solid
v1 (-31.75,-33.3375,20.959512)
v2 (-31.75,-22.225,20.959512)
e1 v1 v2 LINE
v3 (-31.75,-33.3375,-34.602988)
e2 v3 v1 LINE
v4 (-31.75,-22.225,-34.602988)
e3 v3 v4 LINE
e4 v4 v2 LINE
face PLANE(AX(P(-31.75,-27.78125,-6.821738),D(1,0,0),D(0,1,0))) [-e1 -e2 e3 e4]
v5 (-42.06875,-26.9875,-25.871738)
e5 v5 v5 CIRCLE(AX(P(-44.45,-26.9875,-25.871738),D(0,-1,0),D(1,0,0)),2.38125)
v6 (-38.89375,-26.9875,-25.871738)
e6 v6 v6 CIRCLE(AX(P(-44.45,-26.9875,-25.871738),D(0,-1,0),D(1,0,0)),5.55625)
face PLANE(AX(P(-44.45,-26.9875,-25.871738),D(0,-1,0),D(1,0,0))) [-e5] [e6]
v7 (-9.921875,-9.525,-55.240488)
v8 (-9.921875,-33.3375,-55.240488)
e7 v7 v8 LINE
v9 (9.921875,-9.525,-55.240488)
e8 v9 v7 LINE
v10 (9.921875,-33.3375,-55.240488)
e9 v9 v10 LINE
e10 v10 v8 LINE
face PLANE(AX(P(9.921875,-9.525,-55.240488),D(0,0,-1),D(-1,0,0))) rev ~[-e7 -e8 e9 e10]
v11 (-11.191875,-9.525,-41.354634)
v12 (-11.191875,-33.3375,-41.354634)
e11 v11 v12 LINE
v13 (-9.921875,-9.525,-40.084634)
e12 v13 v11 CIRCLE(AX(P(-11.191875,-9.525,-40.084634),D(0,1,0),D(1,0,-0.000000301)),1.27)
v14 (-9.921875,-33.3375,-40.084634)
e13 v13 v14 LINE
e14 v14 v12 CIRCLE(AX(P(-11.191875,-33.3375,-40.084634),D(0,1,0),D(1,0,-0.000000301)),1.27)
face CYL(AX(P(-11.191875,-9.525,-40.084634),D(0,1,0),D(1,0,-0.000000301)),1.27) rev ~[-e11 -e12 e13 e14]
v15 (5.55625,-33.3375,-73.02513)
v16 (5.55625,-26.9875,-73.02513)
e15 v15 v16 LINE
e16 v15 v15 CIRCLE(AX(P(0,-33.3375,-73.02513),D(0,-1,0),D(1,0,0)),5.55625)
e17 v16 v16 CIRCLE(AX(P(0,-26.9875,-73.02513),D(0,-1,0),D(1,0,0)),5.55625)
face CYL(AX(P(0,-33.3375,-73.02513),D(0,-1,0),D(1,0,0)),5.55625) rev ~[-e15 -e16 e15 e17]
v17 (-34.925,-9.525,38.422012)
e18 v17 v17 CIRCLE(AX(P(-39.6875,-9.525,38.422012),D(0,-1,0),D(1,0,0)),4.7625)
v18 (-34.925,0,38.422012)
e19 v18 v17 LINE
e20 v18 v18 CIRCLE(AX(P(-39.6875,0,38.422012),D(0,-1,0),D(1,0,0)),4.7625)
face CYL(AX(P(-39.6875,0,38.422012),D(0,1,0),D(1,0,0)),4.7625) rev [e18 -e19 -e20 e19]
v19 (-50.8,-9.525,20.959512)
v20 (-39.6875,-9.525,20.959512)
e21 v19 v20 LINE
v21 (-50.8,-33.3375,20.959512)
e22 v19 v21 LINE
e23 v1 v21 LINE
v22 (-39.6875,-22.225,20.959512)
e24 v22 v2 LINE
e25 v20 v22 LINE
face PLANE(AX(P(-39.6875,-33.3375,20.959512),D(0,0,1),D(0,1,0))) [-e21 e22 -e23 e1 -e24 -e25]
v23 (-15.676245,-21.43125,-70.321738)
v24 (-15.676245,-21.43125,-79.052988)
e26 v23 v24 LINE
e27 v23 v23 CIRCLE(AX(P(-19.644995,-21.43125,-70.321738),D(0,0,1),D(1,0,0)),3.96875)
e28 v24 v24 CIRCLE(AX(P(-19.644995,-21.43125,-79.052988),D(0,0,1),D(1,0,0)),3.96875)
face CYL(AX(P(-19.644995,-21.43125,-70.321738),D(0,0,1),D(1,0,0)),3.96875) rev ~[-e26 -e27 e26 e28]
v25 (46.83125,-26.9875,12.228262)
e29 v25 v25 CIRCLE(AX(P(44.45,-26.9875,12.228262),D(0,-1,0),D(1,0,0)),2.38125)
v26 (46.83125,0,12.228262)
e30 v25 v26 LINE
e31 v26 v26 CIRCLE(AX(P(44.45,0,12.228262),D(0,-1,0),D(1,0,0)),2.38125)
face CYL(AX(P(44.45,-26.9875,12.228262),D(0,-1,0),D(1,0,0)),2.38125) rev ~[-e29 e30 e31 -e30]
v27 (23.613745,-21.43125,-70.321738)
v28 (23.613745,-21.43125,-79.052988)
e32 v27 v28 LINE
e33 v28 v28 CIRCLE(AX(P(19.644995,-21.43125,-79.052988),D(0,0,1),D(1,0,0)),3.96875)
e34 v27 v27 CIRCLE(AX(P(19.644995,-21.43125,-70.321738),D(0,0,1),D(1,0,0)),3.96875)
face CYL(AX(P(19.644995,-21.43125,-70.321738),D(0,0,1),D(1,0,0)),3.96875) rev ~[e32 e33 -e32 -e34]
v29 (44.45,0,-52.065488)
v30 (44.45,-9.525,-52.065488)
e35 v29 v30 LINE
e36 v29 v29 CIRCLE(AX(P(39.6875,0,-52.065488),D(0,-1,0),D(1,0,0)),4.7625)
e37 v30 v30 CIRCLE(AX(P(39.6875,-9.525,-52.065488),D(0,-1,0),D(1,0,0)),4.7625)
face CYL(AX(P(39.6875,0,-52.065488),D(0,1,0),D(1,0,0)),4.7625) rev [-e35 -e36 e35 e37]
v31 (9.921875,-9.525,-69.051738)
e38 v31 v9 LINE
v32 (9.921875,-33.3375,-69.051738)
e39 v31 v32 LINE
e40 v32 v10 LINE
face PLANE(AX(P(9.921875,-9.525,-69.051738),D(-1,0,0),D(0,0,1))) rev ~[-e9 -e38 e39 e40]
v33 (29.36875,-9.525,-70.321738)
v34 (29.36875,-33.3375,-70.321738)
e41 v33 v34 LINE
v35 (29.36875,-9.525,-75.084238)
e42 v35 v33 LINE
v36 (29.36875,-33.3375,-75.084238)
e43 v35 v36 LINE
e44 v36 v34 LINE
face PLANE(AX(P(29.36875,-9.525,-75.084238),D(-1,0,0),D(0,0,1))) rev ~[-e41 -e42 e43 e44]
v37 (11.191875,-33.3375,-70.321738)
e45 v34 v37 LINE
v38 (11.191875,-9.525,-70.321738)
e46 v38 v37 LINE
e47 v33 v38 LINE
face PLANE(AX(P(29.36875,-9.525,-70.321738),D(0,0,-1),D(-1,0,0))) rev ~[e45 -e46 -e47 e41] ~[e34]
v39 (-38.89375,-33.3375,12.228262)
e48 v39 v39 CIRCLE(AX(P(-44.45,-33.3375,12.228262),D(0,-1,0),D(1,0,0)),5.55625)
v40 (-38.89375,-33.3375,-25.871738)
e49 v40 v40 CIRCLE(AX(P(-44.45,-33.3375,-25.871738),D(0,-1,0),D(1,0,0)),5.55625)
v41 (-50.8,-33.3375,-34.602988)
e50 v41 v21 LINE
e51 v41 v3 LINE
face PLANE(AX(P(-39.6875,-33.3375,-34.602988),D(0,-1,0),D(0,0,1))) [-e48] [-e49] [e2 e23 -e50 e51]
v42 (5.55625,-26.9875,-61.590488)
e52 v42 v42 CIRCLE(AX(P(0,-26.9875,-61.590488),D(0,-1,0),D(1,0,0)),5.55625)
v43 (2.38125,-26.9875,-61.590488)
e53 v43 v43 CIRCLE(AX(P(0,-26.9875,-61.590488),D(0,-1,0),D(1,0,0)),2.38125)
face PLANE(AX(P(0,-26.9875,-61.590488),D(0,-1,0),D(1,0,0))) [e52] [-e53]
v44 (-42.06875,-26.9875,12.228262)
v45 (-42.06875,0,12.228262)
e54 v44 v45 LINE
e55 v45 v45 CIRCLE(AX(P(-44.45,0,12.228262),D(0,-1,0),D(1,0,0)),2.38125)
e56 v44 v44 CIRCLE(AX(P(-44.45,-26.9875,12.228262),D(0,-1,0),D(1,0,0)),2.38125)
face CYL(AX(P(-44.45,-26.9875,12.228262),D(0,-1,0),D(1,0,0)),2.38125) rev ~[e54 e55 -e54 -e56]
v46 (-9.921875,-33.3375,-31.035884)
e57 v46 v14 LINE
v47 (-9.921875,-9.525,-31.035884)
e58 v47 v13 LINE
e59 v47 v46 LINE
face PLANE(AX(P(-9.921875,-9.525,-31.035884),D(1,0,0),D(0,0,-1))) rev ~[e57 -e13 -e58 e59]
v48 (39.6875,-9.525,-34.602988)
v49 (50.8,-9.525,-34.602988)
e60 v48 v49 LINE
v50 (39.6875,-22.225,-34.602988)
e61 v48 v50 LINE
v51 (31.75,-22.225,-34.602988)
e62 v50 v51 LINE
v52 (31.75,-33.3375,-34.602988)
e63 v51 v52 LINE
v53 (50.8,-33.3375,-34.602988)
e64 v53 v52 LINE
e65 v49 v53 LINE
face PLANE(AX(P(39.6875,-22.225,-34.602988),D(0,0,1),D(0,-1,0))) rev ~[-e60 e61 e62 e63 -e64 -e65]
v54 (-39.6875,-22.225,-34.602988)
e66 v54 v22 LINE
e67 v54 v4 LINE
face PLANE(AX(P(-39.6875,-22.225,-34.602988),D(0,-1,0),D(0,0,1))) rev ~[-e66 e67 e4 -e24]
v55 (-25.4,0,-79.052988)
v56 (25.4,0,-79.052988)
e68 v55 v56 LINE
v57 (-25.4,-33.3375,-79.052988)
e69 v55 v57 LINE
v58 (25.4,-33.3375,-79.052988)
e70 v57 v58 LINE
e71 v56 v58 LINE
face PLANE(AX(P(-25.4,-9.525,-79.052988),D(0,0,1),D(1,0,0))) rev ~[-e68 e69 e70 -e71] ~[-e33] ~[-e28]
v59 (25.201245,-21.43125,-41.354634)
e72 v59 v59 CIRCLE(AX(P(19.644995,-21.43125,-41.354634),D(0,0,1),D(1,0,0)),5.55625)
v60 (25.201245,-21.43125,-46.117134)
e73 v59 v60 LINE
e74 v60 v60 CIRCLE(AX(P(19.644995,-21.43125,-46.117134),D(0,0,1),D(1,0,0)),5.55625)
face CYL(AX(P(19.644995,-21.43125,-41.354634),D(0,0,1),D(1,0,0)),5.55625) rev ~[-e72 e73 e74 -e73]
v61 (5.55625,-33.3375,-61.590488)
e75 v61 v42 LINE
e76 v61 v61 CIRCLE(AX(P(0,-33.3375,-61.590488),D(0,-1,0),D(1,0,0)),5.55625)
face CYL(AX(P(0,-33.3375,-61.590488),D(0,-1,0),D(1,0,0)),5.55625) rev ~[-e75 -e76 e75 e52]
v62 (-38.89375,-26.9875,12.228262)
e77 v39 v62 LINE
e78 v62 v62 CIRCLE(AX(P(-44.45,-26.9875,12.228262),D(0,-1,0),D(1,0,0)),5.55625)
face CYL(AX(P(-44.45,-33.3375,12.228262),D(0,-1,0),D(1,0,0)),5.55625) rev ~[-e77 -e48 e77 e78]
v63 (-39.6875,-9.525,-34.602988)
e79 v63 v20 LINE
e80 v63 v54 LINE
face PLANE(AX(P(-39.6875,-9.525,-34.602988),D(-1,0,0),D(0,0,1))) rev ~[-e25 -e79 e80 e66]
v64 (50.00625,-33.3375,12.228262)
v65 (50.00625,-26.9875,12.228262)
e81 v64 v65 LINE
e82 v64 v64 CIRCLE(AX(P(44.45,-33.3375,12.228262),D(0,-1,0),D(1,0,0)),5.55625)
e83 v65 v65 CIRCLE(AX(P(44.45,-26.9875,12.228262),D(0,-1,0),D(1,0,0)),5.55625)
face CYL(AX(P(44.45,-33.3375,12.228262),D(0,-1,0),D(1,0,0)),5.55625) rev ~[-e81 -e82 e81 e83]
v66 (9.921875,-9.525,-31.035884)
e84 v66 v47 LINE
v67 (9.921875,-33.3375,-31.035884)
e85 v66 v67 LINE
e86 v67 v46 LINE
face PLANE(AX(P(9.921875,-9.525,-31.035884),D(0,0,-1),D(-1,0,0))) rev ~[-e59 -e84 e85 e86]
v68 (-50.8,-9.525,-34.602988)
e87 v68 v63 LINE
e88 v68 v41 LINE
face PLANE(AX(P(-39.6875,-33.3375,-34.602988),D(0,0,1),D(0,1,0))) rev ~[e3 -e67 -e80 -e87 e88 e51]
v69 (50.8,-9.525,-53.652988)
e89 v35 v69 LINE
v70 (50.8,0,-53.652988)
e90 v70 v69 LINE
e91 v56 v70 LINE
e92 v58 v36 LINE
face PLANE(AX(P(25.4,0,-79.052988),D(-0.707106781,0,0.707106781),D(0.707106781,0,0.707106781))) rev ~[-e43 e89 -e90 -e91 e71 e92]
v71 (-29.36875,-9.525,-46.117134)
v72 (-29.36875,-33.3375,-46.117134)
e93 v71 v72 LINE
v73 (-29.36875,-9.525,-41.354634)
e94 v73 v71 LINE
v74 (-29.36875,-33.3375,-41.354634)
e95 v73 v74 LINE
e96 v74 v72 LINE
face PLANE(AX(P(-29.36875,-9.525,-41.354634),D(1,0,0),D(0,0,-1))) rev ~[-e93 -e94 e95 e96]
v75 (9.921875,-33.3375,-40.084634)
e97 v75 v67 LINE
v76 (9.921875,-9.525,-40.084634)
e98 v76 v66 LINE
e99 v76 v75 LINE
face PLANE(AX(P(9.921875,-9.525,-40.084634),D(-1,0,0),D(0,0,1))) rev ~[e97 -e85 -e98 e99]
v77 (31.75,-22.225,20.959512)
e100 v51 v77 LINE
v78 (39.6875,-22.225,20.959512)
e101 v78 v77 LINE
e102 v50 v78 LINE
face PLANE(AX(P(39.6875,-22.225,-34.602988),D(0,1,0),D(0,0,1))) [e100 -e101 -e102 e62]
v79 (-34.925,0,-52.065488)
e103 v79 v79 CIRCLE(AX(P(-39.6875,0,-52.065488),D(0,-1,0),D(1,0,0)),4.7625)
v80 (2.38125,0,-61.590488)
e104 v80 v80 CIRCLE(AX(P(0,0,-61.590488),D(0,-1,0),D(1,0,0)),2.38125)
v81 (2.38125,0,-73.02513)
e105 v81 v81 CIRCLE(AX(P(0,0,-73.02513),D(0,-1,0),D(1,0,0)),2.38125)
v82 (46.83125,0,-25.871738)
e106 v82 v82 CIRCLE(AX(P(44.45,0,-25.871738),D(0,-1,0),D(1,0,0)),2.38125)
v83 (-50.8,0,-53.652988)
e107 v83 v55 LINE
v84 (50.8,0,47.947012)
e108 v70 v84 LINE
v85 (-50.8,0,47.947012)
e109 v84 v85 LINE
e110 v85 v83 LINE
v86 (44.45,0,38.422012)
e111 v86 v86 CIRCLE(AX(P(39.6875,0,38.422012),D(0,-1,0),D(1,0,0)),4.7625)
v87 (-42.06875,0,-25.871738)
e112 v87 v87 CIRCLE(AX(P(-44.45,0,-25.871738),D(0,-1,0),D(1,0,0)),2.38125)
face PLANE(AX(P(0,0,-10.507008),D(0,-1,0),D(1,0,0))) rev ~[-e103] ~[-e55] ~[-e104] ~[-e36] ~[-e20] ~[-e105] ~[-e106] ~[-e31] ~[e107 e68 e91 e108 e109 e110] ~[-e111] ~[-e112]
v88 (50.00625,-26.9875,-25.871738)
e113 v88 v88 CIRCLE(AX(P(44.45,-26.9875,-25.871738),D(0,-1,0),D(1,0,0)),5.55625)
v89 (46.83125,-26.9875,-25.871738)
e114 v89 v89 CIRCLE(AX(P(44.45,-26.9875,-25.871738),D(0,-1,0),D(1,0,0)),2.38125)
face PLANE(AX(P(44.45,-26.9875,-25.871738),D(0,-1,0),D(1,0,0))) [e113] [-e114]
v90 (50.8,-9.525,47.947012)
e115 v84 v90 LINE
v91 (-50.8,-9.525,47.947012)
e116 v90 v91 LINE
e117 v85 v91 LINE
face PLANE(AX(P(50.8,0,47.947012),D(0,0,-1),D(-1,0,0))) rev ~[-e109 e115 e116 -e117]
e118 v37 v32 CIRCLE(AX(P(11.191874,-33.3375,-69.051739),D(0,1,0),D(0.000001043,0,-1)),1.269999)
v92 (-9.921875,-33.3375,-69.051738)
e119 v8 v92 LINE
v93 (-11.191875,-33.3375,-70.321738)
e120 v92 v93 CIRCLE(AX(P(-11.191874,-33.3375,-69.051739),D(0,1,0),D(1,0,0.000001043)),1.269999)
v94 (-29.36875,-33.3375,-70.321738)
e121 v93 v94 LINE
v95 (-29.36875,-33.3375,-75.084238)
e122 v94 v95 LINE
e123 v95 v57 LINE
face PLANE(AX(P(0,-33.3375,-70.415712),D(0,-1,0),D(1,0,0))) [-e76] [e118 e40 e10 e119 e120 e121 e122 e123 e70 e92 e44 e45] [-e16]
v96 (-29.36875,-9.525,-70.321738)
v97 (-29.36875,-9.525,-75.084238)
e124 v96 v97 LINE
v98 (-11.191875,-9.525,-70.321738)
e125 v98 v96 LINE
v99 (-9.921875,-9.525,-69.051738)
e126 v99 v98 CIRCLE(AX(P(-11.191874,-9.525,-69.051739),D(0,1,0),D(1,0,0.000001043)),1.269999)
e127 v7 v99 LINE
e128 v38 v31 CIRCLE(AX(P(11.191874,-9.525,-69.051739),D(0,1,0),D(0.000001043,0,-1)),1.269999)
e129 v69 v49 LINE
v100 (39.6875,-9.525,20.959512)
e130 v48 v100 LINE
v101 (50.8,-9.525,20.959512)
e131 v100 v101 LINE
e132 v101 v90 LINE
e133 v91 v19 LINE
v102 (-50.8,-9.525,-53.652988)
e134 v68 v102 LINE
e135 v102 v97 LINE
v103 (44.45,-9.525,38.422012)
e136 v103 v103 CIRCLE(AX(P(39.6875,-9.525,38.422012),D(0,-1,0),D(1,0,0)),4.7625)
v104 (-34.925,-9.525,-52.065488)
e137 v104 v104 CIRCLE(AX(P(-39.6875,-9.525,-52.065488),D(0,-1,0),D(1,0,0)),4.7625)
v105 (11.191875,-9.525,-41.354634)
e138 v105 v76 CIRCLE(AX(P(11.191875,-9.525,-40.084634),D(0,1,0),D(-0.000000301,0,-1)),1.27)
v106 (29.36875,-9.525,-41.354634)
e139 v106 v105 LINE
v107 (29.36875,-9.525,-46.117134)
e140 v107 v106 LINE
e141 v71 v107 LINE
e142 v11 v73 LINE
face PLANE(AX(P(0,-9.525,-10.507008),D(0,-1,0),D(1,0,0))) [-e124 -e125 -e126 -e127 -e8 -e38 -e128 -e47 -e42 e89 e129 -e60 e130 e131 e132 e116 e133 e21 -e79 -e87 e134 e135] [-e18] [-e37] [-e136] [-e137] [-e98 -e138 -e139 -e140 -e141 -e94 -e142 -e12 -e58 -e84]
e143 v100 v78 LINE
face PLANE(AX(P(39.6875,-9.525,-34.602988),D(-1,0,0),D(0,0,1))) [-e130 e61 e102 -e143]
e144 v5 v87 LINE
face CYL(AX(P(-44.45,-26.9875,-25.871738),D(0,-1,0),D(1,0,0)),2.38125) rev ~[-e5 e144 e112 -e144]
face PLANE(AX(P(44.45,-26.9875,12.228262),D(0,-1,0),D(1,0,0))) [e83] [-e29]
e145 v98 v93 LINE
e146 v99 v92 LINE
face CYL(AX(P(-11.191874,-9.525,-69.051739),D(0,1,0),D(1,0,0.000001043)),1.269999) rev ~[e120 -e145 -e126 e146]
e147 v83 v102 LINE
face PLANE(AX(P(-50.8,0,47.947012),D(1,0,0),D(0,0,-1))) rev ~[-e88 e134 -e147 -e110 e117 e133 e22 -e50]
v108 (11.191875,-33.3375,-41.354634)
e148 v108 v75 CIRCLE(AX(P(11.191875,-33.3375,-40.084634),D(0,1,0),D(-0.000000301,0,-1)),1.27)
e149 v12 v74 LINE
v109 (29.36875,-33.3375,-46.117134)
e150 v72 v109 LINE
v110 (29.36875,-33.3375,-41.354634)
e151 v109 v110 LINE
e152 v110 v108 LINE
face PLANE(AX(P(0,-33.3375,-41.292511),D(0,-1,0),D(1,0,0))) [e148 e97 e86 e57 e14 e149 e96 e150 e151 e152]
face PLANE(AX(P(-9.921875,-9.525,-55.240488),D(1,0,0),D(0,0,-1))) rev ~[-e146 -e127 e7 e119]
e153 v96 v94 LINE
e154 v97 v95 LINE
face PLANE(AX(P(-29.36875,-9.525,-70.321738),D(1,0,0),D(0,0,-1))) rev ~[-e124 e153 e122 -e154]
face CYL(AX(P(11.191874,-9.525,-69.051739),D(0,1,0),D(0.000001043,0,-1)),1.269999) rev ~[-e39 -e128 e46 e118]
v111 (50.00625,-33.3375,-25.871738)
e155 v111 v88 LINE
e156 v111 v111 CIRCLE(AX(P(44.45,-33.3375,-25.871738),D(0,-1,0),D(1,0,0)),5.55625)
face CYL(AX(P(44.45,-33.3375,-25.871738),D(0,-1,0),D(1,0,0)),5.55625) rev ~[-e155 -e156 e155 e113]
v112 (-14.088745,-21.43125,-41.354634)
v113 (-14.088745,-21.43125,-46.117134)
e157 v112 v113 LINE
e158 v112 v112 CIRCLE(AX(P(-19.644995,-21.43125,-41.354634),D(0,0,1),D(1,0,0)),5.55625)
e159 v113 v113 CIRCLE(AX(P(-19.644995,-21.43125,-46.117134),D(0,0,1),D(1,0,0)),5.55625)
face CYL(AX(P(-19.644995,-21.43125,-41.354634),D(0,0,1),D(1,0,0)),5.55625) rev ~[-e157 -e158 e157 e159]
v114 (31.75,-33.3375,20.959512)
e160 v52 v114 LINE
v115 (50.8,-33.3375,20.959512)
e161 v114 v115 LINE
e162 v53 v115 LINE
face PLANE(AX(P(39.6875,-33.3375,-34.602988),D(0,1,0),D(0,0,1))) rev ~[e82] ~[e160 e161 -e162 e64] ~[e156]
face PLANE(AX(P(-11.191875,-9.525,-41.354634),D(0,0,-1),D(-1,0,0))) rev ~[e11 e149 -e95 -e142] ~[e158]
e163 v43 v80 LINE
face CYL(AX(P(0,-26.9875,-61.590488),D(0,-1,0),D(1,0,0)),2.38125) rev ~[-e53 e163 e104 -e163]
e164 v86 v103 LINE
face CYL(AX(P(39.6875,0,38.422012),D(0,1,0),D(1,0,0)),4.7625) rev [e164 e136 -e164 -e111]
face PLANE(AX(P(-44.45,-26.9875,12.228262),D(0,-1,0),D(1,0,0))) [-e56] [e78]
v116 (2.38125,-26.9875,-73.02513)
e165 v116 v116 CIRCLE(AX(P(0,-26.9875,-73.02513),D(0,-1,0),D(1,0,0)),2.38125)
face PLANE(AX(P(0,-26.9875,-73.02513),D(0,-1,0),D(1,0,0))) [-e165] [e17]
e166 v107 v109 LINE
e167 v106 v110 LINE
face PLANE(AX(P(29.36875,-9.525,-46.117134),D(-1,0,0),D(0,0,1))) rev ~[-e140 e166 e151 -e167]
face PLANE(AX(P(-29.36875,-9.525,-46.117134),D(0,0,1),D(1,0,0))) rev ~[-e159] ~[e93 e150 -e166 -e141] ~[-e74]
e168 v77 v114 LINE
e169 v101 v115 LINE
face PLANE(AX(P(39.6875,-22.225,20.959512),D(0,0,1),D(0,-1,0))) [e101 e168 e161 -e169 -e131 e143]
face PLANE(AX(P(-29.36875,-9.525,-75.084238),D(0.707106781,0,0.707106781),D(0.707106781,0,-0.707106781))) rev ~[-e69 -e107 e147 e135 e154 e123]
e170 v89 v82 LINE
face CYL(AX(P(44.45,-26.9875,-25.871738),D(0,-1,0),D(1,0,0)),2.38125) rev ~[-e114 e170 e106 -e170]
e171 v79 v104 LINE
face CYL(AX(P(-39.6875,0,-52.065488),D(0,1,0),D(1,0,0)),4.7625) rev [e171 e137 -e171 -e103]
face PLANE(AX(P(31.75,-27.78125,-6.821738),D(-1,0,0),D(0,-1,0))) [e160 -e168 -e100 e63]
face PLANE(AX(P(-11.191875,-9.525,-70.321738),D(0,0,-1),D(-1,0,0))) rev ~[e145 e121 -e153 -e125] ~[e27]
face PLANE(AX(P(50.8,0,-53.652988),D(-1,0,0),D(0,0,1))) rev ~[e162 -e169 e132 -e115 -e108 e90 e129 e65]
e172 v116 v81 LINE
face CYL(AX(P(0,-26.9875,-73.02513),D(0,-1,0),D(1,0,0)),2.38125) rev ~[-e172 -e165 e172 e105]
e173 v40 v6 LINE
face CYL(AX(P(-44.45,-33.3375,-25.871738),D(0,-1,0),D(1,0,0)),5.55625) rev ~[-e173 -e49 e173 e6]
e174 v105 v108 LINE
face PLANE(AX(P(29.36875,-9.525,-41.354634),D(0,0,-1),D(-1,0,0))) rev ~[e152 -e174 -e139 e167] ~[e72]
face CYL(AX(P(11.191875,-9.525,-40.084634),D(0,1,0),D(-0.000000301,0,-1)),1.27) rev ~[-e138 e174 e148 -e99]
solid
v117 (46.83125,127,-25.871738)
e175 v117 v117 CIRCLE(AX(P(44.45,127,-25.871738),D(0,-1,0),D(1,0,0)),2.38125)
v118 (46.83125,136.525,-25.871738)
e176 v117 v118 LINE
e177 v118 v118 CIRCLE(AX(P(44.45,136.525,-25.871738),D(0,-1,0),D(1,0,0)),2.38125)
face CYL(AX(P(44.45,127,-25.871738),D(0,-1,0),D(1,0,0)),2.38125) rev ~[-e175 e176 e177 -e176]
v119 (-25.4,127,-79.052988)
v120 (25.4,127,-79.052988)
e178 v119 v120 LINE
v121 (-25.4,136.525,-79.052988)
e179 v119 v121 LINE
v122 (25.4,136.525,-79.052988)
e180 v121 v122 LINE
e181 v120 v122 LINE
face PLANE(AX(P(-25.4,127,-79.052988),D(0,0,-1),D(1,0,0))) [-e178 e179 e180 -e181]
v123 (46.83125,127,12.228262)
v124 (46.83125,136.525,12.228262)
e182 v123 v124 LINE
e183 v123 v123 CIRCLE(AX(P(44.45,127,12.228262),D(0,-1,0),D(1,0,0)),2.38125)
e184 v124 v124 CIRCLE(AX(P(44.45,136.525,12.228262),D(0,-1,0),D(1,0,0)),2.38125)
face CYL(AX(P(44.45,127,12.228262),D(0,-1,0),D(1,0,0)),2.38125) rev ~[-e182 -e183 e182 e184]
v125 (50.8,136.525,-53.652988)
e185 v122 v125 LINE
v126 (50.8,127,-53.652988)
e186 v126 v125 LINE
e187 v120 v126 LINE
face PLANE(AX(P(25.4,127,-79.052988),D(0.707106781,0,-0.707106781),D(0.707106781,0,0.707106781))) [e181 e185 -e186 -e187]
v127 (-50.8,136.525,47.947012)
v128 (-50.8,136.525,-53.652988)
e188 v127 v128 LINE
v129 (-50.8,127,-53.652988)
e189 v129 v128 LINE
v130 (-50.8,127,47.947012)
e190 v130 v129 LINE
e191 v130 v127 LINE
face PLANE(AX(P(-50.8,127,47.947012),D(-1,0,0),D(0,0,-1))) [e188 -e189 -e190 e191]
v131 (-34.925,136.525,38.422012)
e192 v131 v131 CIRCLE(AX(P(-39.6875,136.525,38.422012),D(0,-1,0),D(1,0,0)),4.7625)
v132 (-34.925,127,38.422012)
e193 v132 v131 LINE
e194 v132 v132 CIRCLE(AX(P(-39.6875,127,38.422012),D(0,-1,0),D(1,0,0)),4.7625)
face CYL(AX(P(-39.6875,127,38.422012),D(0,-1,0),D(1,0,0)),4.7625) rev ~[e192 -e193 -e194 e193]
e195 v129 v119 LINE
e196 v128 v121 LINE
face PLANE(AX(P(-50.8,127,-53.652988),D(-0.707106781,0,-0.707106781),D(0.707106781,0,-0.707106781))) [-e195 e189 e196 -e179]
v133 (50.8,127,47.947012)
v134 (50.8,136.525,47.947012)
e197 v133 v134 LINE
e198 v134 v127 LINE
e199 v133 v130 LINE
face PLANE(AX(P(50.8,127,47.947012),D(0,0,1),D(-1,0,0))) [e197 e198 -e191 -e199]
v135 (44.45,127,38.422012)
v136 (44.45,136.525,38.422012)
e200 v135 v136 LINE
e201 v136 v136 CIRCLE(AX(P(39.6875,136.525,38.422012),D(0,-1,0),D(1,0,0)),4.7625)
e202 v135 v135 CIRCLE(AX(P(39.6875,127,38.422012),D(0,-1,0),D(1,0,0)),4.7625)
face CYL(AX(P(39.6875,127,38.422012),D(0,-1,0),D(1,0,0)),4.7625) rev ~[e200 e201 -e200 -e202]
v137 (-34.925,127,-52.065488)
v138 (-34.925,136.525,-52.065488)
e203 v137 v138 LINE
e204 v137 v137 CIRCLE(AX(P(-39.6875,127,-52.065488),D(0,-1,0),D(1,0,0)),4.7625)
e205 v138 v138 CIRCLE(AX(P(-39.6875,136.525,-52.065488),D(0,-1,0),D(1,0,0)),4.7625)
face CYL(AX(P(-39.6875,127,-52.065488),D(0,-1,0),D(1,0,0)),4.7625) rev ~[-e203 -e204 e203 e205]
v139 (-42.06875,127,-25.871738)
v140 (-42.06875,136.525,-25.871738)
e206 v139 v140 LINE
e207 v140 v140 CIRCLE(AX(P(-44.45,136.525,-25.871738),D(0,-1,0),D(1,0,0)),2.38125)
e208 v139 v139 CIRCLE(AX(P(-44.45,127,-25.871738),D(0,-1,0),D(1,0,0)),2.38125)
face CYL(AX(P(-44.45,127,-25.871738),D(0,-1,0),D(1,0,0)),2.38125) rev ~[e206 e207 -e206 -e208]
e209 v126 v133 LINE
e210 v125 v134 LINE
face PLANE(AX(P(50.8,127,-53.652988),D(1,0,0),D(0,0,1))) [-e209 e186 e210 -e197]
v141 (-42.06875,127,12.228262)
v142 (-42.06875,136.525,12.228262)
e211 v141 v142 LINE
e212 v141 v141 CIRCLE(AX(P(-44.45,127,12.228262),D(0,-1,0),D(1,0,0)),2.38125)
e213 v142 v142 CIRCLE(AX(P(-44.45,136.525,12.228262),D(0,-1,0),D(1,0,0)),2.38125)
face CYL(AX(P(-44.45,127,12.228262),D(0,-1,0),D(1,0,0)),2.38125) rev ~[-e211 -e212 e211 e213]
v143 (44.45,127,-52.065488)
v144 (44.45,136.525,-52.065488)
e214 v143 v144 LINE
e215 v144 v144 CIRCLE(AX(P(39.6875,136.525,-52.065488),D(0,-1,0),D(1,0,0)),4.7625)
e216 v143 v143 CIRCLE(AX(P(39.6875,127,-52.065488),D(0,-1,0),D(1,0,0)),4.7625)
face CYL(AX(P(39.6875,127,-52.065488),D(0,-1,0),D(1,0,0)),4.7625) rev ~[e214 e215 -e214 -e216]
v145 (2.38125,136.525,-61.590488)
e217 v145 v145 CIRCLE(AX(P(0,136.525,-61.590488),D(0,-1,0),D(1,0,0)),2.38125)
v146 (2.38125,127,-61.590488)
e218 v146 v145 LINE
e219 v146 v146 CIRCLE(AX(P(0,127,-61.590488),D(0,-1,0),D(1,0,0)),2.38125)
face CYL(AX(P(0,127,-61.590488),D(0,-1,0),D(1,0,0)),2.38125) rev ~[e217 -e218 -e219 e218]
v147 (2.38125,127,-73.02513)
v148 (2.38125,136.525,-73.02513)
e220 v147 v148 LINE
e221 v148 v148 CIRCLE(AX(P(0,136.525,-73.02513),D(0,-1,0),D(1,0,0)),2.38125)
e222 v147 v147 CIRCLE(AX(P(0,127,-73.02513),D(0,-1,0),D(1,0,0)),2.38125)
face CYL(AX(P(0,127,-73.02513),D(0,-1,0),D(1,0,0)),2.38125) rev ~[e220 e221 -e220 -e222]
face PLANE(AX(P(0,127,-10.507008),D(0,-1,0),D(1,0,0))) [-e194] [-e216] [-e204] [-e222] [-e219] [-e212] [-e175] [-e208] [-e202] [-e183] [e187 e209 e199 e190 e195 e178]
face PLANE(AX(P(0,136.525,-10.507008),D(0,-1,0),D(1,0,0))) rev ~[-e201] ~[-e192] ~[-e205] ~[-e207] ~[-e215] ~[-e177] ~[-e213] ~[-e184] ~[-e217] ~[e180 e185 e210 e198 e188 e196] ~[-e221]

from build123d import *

# Parameters (mm, degrees)
F0_R      = 4.7625
F1_DEPTH  = 9.525
F2_W      = 11.1125
F2_H      = 55.5625
F3_DEPTH  = 23.8125
F4_W      = 11.1125
F4_H      = 55.5625
F5_DEPTH  = 7.9375
F6_W      = 11.1125
F6_H      = 55.5625
F7_DEPTH  = 7.9375
F8_R      = 5.55625
F9_DEPTH  = 6.35
F10_R     = 2.38125
F11_DEPTH = 50.8
F12_R     = 5.55625
F13_DEPTH = 6.35
F14_R     = 3.96875
F15_DEPTH = 25.4
F17_R     = 4.7625
F17_R_2   = 2.38125
F18_DEPTH = 9.525


with BuildPart() as f1:
    # F0 (on Front) → F1 (new body)
    with BuildSketch(Plane.XZ):
        Polygon((50.8, 47.947012), (-50.8, 47.947012), (-50.8, -53.652988), (-25.4, -79.052988), (25.4, -79.052988), (50.8, -53.652988), align=None)
        with Locations((-39.6875, -52.065488)):
            Circle(F0_R, mode=Mode.SUBTRACT)
        with Locations((39.6875, -52.065488)):
            Circle(F0_R, mode=Mode.SUBTRACT)
        with Locations((-39.6875, 38.422012)):
            Circle(F0_R, mode=Mode.SUBTRACT)
        with Locations((39.6875, 38.422012)):
            Circle(F0_R, mode=Mode.SUBTRACT)
    extrude(amount=F1_DEPTH)

    # F2 (on face) → F3 (join)
    with BuildSketch(Plane.XZ.offset(9.525)):
        with Locations((-45.24375, -6.821738)):
            Rectangle(F2_W, F2_H)
        with Locations((45.24375, -6.821738)):
            Rectangle(F2_W, F2_H)
        with BuildLine():
            Line((-11.191875, -41.354634), (-29.36875, -41.354634))
            Line((-29.36875, -41.354634), (-29.36875, -46.117134))
            Line((-29.36875, -46.117134), (29.36875, -46.117134))
            Line((29.36875, -46.117134), (29.36875, -41.354634))
            Line((29.36875, -41.354634), (11.191875, -41.354634))
            ThreePointArc((11.191875, -41.354634), (10.293849, -40.982659), (9.921875, -40.084634))
            Line((9.921875, -40.084634), (9.921875, -31.035884))
            Line((9.921875, -31.035884), (-9.921875, -31.035884))
            Line((-9.921875, -31.035884), (-9.921875, -40.084634))
            ThreePointArc((-9.921875, -40.084634), (-10.293849, -40.982659), (-11.191875, -41.354634))
        make_face()
        with BuildLine():
            Line((-29.36875, -70.321738), (-29.36875, -75.084238))
            Line((-29.36875, -75.084238), (-25.4, -79.052988))
            Line((-25.4, -79.052988), (25.4, -79.052988))
            Line((25.4, -79.052988), (29.36875, -75.084238))
            Line((29.36875, -75.084238), (29.36875, -70.321738))
            Line((29.36875, -70.321738), (11.191875, -70.321738))
            ThreePointArc((11.191875, -70.321738), (10.293849, -69.949764), (9.921875, -69.051738))
            Line((9.921875, -69.051738), (9.921875, -55.240488))
            Line((9.921875, -55.240488), (-9.921875, -55.240488))
            Line((-9.921875, -55.240488), (-9.921875, -69.051738))
            ThreePointArc((-9.921875, -69.051738), (-10.293849, -69.949764), (-11.191875, -70.321738))
            Line((-11.191875, -70.321738), (-29.36875, -70.321738))
        make_face()
    extrude(amount=F3_DEPTH)

    # F4 (on face) → F5 (join)
    with BuildSketch(Plane.YZ.offset(-39.6875)):
        with Locations((-27.78125, -6.821738)):
            Rectangle(F4_W, F4_H)
    extrude(amount=F5_DEPTH)

    # F6 (on face) → F7 (join)
    with BuildSketch(Plane(origin=(39.6875, 0, 0), x_dir=(0, -1, 0), z_dir=(-1, 0, 0))):
        with Locations((27.78125, -6.821738)):
            Rectangle(F6_W, F6_H)
    extrude(amount=F7_DEPTH)

    # F8 (on face) → F9 (cut)
    with BuildSketch(Plane.XZ.offset(33.3375)):
        with Locations((-44.45, 12.228262)):
            Circle(F8_R)
        with Locations((-44.45, -25.871738)):
            Circle(F8_R)
        with Locations((44.45, 12.228262)):
            Circle(F8_R)
        with Locations((44.45, -25.871738)):
            Circle(F8_R)
        with Locations((0, -73.02513)):
            Circle(F8_R)
        with Locations((0, -61.590488)):
            Circle(F8_R)
    extrude(amount=-F9_DEPTH, mode=Mode.SUBTRACT)

    # F10 (on face) → F11 (cut)
    with BuildSketch(Plane.XZ.offset(26.9875)):
        with Locations((-44.45, -25.871738)):
            Circle(F10_R)
        with Locations((-44.45, 12.228262)):
            Circle(F10_R)
        with Locations((44.45, -25.871738)):
            Circle(F10_R)
        with Locations((44.45, 12.228262)):
            Circle(F10_R)
        with Locations((0, -61.590488)):
            Circle(F10_R)
        with Locations((0, -73.02513)):
            Circle(F10_R)
    extrude(amount=-F11_DEPTH, mode=Mode.SUBTRACT)

    # F12 (on face) → F13 (cut)
    with BuildSketch(Plane.XY.offset(-41.354634)):
        with Locations((-19.644995, -21.43125)):
            Circle(F12_R)
        with Locations((19.644995, -21.43125)):
            Circle(F12_R)
    extrude(amount=-F13_DEPTH, mode=Mode.SUBTRACT)

    # F14 (on face) → F15 (cut)
    with BuildSketch(Plane.XY.offset(-70.321738)):
        with Locations((-19.644995, -21.43125)):
            Circle(F14_R)
        with Locations((19.644995, -21.43125)):
            Circle(F14_R)
    extrude(amount=-F15_DEPTH, mode=Mode.SUBTRACT)


with BuildPart() as f18:
    # F17 (on offset) → F18 (new body)
    with BuildSketch(Plane.XZ.offset(-127)):
        Polygon((50.8, 47.947012), (-50.8, 47.947012), (-50.8, -53.652988), (-25.4, -79.052988), (25.4, -79.052988), (50.8, -53.652988), align=None)
        with Locations((-39.6875, -52.065488)):
            Circle(F17_R, mode=Mode.SUBTRACT)
        with Locations((0, -73.02513)):
            Circle(F17_R_2, mode=Mode.SUBTRACT)
        with Locations((0, -61.590488)):
            Circle(F17_R_2, mode=Mode.SUBTRACT)
        with Locations((-44.45, -25.871738)):
            Circle(F17_R_2, mode=Mode.SUBTRACT)
        with Locations((39.6875, -52.065488)):
            Circle(F17_R, mode=Mode.SUBTRACT)
        with Locations((44.45, -25.871738)):
            Circle(F17_R_2, mode=Mode.SUBTRACT)
        with Locations((-44.45, 12.228262)):
            Circle(F17_R_2, mode=Mode.SUBTRACT)
        with Locations((-39.6875, 38.422012)):
            Circle(F17_R, mode=Mode.SUBTRACT)
        with Locations((44.45, 12.228262)):
            Circle(F17_R_2, mode=Mode.SUBTRACT)
        with Locations((39.6875, 38.422012)):
            Circle(F17_R, mode=Mode.SUBTRACT)
    extrude(amount=-F18_DEPTH)


solid = Compound([f1.part, f18.part])
